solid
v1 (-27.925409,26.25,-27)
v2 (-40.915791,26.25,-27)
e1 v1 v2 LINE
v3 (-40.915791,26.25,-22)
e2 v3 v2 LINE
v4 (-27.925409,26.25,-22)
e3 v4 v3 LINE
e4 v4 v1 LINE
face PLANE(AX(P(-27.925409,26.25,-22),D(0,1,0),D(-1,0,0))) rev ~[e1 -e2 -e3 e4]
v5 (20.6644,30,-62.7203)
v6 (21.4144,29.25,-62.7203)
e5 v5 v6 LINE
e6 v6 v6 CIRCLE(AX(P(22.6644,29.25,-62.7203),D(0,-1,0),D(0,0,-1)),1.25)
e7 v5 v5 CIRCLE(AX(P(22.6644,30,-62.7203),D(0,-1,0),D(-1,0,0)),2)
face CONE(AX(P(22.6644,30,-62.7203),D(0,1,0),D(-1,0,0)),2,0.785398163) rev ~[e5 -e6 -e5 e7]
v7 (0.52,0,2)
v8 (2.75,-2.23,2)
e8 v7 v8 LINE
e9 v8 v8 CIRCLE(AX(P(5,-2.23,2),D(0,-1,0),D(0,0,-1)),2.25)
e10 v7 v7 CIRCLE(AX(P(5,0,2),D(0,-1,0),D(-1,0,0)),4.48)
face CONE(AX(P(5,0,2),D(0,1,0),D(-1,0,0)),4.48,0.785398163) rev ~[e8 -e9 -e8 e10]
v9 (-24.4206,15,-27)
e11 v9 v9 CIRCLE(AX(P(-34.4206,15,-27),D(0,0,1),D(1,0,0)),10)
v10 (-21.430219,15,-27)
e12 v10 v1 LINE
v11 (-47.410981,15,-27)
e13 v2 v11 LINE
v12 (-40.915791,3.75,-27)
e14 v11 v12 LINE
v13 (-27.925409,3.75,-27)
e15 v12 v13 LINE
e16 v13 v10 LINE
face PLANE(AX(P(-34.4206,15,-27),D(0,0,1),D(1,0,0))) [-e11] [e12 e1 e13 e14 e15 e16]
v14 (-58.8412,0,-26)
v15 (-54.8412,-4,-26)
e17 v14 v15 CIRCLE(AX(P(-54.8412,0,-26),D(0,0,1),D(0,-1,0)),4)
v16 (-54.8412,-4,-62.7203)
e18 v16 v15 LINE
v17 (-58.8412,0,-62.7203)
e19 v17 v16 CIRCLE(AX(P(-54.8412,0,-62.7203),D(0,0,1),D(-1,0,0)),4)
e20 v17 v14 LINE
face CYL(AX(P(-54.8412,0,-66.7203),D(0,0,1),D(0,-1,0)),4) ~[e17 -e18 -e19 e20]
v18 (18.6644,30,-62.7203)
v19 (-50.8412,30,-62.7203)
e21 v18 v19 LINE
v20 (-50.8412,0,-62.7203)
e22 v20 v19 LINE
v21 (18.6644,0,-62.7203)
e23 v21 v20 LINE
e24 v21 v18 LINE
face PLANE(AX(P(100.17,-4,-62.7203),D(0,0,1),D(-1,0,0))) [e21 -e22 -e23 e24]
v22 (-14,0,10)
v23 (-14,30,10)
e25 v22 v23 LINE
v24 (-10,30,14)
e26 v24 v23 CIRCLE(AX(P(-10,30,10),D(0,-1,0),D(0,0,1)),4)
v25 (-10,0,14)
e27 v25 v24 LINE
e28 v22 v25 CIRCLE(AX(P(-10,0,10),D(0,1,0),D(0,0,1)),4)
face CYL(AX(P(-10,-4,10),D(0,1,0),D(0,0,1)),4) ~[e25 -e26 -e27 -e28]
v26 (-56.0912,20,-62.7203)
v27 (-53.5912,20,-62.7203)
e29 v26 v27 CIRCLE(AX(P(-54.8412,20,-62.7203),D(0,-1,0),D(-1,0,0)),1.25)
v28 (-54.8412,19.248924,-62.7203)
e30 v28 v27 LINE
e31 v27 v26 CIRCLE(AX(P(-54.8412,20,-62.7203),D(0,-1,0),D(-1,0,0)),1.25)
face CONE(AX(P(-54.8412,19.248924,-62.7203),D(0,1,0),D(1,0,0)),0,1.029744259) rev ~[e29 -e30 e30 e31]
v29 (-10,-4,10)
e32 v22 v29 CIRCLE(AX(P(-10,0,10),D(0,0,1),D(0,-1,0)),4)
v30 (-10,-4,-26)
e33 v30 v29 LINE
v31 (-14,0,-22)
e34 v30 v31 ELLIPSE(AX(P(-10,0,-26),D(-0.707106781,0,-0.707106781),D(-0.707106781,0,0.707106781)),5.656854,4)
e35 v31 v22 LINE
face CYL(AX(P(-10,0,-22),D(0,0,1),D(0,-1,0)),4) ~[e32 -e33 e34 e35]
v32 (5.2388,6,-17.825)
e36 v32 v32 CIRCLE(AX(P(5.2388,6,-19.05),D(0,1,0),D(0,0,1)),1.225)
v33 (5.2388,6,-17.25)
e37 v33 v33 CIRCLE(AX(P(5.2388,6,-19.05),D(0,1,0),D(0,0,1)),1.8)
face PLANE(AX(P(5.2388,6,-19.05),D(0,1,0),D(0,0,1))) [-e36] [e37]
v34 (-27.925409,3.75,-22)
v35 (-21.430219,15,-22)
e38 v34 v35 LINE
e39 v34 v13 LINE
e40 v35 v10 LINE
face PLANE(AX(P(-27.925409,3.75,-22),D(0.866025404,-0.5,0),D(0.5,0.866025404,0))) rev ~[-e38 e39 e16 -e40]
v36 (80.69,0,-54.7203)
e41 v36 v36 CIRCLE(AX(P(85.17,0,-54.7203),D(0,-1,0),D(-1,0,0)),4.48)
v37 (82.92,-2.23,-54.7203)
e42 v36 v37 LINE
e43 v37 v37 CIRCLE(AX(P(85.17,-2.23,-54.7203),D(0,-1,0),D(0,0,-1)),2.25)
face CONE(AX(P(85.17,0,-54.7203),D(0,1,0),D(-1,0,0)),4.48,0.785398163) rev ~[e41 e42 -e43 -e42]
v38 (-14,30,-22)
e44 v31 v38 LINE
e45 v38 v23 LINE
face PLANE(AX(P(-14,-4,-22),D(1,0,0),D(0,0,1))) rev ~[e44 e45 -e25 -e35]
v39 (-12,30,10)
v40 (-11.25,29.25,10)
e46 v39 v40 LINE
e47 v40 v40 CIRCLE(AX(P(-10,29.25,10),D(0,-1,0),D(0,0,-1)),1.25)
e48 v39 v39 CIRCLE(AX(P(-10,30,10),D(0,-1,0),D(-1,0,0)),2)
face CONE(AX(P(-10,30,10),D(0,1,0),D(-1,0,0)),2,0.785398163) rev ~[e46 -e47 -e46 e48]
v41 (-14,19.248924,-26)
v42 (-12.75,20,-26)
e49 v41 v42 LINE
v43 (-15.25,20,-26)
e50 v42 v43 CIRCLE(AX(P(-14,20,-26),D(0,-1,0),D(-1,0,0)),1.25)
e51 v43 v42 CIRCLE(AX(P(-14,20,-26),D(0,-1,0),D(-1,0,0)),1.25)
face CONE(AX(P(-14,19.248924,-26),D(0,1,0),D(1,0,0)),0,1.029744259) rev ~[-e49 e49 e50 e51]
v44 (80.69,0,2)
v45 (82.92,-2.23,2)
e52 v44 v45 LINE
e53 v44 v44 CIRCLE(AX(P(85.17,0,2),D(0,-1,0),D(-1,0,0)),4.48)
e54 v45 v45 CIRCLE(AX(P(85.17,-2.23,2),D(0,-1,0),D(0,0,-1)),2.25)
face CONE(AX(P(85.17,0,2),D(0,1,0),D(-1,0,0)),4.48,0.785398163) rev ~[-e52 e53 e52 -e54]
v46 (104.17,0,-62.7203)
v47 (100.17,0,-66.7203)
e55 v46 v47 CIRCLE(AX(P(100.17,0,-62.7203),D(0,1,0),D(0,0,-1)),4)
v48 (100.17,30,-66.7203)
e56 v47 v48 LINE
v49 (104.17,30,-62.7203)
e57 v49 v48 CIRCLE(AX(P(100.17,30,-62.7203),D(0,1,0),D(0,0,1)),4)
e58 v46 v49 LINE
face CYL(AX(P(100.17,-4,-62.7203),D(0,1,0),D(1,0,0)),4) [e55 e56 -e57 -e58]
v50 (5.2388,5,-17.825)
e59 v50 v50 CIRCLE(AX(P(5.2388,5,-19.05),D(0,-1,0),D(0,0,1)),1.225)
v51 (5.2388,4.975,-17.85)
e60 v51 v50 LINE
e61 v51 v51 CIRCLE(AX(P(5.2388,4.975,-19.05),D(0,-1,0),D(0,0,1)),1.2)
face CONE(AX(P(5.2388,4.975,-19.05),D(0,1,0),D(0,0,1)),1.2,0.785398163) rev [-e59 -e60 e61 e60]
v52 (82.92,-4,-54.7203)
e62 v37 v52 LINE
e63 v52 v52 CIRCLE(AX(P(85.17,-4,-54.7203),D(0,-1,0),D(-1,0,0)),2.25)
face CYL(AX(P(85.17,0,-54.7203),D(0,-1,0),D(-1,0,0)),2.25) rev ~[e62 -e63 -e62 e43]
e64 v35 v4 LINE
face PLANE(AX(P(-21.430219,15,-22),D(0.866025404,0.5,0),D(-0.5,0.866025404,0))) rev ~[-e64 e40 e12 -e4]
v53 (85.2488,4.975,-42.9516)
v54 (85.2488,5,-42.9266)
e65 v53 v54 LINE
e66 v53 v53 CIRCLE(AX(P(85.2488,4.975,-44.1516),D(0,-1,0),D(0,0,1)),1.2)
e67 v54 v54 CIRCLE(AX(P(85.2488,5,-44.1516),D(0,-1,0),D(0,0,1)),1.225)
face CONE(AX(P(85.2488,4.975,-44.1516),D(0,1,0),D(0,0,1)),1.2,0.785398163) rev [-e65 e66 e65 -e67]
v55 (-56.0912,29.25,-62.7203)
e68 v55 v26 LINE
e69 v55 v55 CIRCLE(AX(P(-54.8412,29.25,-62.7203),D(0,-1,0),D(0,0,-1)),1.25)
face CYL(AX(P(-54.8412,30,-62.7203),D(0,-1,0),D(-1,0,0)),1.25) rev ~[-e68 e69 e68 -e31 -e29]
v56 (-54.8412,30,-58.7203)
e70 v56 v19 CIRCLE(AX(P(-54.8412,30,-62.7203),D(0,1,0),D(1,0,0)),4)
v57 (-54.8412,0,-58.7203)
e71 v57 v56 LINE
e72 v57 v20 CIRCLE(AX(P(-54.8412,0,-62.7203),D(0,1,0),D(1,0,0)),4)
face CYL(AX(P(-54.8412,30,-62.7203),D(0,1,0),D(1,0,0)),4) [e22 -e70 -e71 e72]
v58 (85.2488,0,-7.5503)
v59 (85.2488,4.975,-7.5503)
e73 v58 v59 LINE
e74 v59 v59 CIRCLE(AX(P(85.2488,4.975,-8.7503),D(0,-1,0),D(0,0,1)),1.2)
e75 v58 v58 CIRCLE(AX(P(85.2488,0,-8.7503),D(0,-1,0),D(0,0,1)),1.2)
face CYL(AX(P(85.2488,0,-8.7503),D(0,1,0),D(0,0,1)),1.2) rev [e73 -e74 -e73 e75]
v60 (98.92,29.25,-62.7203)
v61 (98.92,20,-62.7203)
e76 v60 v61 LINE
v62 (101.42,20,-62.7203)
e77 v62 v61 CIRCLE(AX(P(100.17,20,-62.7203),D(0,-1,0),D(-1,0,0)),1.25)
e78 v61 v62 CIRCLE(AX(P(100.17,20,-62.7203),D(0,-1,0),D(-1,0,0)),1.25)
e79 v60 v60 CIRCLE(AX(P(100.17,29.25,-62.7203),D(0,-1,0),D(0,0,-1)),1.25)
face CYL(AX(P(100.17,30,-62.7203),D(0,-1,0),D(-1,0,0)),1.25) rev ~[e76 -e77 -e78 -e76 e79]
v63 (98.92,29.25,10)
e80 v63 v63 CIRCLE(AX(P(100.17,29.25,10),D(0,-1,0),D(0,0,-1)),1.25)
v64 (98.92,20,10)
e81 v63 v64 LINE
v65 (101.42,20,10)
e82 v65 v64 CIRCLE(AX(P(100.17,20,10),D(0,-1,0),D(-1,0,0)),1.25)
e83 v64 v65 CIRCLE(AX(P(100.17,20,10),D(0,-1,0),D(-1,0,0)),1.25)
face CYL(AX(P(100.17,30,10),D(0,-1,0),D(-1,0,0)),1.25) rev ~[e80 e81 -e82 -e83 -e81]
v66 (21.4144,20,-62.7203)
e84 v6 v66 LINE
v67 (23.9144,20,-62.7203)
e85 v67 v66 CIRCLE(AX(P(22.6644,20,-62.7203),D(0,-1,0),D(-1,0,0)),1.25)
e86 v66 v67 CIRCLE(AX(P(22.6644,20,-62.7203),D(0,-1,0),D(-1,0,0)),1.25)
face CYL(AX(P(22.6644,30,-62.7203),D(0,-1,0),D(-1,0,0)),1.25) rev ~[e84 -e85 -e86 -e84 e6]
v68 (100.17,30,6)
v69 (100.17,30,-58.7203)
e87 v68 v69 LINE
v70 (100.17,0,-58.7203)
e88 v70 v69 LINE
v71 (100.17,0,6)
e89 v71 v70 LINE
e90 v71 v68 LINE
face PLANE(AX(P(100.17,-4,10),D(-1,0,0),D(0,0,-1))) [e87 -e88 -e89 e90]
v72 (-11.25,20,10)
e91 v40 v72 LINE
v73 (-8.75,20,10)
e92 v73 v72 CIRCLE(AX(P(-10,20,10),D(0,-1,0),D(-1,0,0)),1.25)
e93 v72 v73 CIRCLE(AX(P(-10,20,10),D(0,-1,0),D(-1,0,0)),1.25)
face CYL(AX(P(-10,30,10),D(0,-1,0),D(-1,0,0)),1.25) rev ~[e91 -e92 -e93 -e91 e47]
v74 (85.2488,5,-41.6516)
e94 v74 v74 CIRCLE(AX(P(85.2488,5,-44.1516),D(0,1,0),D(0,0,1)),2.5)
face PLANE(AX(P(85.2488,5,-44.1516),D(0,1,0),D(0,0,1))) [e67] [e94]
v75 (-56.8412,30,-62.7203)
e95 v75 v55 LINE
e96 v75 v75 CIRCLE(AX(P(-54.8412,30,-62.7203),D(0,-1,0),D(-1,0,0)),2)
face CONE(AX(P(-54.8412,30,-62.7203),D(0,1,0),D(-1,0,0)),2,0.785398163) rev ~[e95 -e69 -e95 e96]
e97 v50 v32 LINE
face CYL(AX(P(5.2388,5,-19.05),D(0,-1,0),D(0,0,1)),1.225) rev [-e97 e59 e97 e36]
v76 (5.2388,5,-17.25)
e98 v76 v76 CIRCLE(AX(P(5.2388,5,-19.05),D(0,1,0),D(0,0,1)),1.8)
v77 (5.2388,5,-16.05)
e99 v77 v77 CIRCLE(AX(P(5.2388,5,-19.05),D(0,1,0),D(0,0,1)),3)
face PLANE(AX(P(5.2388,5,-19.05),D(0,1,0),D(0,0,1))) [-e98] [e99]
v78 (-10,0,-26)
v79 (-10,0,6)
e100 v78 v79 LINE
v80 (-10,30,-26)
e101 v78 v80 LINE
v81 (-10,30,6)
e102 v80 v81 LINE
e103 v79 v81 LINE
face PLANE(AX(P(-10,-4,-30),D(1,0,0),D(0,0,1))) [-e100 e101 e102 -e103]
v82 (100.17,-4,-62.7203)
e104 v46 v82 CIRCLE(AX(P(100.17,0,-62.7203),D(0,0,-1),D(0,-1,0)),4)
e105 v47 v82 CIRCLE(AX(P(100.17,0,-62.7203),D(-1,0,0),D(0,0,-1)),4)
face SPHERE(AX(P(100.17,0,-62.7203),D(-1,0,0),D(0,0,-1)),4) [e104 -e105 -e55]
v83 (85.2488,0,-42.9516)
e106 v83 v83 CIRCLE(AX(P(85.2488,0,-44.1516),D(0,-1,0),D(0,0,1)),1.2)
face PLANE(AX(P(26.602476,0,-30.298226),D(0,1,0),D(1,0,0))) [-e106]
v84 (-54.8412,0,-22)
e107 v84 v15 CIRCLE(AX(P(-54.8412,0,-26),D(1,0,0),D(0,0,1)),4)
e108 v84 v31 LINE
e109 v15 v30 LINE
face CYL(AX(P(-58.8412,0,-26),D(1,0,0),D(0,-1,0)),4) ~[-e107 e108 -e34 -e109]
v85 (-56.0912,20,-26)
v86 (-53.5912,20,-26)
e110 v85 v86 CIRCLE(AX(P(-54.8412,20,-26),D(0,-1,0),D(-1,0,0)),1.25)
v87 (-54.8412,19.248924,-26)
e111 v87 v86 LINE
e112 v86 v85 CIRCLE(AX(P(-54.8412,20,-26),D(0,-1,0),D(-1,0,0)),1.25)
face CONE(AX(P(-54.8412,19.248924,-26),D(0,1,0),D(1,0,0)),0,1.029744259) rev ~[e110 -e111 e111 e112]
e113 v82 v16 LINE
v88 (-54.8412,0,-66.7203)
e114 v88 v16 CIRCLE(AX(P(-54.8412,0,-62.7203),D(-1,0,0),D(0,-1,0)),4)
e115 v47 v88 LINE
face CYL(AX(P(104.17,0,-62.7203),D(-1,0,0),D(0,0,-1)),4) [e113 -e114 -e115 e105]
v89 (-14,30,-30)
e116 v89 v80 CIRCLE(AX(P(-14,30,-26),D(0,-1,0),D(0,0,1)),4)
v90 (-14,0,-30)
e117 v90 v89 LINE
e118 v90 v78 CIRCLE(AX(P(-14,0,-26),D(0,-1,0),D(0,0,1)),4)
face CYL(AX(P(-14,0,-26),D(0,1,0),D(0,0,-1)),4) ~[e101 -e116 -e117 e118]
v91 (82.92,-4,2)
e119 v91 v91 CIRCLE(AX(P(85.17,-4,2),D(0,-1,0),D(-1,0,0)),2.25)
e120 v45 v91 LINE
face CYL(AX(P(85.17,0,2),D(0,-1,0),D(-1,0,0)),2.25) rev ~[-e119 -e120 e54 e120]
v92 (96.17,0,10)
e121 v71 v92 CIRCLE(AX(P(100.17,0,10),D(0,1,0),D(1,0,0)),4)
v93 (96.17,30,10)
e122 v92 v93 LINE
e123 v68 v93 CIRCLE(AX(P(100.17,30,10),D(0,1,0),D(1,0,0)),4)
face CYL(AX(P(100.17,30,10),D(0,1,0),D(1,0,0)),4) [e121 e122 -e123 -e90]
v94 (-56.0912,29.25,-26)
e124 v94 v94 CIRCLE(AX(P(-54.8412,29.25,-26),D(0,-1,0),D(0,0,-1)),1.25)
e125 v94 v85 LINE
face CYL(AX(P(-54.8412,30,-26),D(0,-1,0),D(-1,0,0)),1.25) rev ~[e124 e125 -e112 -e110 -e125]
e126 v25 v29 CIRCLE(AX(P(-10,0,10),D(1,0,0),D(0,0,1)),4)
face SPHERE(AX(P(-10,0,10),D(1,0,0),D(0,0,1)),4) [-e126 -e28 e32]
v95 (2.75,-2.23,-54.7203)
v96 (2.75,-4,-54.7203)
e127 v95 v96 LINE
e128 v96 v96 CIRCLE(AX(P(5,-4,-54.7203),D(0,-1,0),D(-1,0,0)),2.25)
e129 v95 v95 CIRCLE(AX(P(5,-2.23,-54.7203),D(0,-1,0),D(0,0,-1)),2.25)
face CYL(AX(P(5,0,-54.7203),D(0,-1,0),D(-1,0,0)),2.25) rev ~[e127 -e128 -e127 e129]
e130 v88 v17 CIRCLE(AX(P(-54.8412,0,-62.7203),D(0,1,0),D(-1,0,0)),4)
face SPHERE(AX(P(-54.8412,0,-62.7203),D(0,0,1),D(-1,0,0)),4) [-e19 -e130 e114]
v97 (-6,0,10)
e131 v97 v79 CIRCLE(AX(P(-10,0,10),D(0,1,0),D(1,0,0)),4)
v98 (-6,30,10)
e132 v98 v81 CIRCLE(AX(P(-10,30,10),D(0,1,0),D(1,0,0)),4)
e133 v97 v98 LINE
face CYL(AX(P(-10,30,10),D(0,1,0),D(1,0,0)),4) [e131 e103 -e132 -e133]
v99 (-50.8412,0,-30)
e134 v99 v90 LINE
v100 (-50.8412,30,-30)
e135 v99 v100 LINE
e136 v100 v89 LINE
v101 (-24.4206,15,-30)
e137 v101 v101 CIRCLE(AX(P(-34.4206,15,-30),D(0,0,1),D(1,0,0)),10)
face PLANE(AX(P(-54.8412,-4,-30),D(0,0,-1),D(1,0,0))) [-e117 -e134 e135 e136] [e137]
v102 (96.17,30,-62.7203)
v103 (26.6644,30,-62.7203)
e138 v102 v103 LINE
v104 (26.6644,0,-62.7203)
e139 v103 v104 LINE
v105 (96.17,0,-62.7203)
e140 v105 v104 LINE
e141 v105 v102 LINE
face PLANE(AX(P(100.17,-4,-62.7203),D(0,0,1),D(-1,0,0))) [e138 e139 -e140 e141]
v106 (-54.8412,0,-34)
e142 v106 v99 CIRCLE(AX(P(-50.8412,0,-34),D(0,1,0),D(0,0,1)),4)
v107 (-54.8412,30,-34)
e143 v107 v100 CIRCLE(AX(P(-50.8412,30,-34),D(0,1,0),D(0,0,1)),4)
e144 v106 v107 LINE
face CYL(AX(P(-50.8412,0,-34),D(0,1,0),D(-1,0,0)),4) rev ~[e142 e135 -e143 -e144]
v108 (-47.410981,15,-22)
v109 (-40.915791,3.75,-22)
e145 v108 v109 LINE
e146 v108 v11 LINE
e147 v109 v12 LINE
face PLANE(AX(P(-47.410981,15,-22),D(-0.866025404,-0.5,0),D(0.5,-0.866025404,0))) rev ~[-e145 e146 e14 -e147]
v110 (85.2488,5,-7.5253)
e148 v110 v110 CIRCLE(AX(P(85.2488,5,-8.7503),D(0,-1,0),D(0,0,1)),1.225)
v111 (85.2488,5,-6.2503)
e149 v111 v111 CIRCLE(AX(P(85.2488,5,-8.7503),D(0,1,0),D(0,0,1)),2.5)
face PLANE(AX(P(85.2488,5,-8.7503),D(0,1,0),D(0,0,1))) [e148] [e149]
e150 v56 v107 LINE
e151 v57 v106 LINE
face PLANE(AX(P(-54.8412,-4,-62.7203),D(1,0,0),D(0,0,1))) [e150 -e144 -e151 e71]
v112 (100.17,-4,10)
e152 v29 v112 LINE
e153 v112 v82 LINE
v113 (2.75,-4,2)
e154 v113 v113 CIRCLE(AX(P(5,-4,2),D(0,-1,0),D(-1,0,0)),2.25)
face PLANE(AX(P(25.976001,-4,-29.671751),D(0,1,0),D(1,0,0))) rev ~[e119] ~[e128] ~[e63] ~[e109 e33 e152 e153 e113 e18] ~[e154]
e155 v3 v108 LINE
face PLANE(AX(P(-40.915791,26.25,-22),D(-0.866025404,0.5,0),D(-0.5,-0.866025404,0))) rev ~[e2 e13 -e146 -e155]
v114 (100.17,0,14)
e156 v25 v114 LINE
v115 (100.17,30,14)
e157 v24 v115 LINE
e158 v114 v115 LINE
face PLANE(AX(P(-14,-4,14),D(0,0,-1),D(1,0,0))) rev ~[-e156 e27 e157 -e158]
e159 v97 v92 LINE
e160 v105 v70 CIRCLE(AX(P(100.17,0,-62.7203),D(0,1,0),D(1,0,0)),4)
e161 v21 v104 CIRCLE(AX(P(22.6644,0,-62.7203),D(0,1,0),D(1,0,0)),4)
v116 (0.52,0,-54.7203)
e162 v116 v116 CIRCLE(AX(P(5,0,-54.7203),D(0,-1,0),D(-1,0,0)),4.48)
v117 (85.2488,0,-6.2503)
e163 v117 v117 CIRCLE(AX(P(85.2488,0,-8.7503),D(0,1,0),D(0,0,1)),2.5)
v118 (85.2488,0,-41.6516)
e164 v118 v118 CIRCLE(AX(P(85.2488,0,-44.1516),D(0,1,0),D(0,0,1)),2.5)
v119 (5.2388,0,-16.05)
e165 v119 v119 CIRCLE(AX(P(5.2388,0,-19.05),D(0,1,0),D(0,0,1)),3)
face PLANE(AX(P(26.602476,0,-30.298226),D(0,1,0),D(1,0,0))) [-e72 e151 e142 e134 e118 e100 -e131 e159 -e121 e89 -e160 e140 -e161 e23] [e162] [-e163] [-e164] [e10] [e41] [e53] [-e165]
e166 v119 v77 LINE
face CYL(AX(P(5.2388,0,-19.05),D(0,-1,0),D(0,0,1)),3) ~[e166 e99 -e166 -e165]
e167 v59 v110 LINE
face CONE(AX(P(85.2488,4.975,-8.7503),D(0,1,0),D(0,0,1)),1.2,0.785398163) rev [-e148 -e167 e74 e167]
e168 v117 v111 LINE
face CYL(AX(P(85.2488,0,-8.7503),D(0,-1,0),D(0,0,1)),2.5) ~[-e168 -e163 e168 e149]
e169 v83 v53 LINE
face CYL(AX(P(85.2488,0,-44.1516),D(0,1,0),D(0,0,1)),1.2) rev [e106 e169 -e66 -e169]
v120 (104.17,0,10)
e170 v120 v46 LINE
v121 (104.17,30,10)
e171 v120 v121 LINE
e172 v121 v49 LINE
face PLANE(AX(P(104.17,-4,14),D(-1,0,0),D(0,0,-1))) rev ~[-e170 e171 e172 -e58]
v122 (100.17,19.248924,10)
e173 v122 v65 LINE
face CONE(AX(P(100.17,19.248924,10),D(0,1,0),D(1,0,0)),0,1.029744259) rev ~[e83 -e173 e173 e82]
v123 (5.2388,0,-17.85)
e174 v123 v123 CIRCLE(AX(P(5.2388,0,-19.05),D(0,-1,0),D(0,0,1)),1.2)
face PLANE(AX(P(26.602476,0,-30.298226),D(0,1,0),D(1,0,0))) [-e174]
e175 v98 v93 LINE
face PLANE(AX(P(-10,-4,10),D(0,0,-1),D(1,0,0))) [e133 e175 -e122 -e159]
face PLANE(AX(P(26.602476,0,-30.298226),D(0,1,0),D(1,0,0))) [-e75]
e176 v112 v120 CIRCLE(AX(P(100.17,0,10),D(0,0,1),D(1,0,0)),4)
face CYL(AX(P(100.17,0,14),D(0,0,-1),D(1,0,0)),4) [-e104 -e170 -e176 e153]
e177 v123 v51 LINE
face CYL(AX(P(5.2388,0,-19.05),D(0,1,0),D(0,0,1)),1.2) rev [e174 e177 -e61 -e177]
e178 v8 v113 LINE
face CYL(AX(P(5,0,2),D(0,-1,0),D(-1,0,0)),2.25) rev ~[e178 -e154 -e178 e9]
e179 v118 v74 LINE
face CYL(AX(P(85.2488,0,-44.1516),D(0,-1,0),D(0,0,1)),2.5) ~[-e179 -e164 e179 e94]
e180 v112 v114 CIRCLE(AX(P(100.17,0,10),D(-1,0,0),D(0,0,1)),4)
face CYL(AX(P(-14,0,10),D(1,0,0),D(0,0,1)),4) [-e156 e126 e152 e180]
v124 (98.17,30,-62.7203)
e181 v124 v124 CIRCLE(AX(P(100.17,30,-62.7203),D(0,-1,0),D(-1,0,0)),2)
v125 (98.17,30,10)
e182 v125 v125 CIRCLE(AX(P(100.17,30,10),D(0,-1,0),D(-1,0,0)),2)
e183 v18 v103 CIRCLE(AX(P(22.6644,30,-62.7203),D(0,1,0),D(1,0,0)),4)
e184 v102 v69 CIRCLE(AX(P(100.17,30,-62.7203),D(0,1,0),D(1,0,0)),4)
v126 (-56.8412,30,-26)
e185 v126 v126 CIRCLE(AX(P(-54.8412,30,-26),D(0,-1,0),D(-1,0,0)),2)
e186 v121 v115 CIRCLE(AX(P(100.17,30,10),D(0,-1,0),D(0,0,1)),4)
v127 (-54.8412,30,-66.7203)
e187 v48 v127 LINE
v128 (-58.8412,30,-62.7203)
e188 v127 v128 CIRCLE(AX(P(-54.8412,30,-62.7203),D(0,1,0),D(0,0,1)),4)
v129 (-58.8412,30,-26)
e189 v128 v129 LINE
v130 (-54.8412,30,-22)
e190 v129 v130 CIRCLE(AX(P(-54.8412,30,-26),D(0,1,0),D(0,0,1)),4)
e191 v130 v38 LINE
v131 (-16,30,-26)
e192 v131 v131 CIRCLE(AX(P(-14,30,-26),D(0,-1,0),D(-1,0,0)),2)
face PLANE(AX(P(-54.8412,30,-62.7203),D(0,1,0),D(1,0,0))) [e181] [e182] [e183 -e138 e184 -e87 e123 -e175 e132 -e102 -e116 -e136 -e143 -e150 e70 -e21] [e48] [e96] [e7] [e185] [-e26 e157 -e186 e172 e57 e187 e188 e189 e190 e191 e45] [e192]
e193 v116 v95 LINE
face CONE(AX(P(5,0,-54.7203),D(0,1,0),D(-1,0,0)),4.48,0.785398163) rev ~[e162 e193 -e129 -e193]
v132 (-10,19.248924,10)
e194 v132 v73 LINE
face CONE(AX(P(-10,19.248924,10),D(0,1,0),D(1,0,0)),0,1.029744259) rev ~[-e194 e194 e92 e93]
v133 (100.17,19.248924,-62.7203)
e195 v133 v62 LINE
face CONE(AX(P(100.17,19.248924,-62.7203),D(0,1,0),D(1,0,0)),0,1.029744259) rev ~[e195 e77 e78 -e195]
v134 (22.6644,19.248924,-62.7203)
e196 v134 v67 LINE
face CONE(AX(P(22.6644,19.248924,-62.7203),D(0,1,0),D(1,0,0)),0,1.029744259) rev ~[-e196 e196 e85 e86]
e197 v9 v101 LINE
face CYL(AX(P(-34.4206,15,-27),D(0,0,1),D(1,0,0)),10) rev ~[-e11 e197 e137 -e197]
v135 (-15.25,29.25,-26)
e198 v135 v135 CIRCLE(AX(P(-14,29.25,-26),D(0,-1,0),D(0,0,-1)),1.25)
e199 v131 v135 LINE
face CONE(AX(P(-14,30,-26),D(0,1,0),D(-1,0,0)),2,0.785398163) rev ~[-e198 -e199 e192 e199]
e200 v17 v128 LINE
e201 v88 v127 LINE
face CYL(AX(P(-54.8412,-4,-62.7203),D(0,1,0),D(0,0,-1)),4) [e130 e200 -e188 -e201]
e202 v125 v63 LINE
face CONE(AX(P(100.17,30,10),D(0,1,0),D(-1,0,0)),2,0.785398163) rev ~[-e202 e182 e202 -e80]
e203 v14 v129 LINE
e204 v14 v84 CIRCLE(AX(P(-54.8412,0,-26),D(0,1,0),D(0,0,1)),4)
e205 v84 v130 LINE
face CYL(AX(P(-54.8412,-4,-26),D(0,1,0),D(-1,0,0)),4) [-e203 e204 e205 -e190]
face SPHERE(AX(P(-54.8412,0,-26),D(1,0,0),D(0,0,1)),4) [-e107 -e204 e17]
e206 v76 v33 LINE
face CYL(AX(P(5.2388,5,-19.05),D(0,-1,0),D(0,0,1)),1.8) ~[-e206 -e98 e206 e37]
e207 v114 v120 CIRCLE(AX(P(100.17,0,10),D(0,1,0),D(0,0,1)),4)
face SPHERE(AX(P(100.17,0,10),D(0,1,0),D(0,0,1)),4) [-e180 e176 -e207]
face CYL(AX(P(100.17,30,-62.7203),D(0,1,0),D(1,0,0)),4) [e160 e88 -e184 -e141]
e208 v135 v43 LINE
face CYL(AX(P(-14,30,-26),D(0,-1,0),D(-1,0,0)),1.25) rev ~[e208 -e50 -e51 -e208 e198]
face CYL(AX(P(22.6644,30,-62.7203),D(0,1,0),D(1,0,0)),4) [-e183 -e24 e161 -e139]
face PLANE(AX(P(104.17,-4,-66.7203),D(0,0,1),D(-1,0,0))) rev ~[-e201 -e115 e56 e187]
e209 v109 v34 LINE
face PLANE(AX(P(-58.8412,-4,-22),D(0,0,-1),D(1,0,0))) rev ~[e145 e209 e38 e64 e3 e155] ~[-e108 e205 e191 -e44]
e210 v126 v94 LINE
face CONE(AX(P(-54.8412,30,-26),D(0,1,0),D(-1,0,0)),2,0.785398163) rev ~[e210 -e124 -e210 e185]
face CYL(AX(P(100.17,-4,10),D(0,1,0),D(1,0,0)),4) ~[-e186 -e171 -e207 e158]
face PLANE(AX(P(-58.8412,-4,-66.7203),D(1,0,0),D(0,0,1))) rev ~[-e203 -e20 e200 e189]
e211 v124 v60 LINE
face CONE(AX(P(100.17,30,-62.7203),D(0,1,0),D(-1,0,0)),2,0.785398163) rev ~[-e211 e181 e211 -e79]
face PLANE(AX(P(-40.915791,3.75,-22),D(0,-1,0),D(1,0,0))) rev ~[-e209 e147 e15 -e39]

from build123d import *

# Parameters (mm, degrees)
CROQUIS3_R                                           = 3
SALIENTE_EXTRUIR1_DEPTH                              = 5
CROQUIS3_R_2                                         = 2.5
SALIENTE_EXTRUIR1_2_DEPTH                            = 5
SALIENTE_EXTRUIR1_3_DEPTH                            = 5
TALADRO_DE_MARGEN_PARA_M21_AT_2_COUNT                = 2
TALADRO_DE_MARGEN_PARA_M21_AT_2_PITCH                = 83.855175288
TALADRO_DE_MARGEN_PARA_M21_AT_3_COUNT                = 2
TALADRO_DE_MARGEN_PARA_M21_AT_3_PITCH                = 80.670217057
CROQUIS9_R                                           = 1.8
CROQUIS9_R_2                                         = 1.225
SALIENTE_EXTRUIR3_DEPTH                              = 1
SALIENTE_EXTRUIR4_DEPTH                              = 4
SALIENTE_EXTRUIR5_DEPTH                              = 30
SALIENTE_EXTRUIR5_DEPTH_BACK                         = 4
CORTAR_EXTRUIR2_DEPTH                                = 5
CROQUIS13_R                                          = 10
CORTAR_EXTRUIR3_DEPTH                                = 5
REDONDEO1_R                                          = 4
SALIENTE_EXTRUIR9_START                              = 30
CROQUIS15_R                                          = 4
SALIENTE_EXTRUIR9_DEPTH                              = 30
REFRENTADO_PARA_TORNILLO_TAP_N_CON_CABEZ_D           = 2.5
REFRENTADO_PARA_TORNILLO_TAP_N_CON_CABEZ_DEPTH       = 10
REFRENTADO_PARA_TORNILLO_TAP_N_CON_CABEZ_CSINK_D     = 4
REFRENTADO_PARA_TORNILLO_TAP_N_CON_CABEZ_CSINK_ANGLE = 90
REFRENTADO_PARA_TORNILLO_TAP_N_CON_CABEZ_TIP         = 0.751075774
REFRENTADO_PARA_TORNILLO_TAP_N_CON_C_2_D             = 4.5
REFRENTADO_PARA_TORNILLO_TAP_N_CON_C_2_DEPTH         = 10
REFRENTADO_PARA_TORNILLO_TAP_N_CON_C_2_CSINK_D       = 8.96
REFRENTADO_PARA_TORNILLO_TAP_N_CON_C_2_CSINK_ANGLE   = 90
REFRENTADO_PARA_TORNILLO_TAP_N_CON_C_2_TIP           = 1.351936393


with BuildPart() as part:
    # Croquis3 → Saliente-Extruir1 (new body)
    with BuildSketch(Plane(origin=(0, 0, 0), x_dir=(1, 0, 0), z_dir=(0, 1, 0))):
        with Locations(Location((5.2388, 19.05, 0), (0, 0, 270))):
            Circle(CROQUIS3_R)
    extrude(amount=SALIENTE_EXTRUIR1_DEPTH)

    # Croquis8 → Taladro de margen para M21 (revolve, cut)
    with BuildSketch(Plane(origin=(5.2388, 5, -19.05), x_dir=(0, 0, 1), z_dir=(1, 0, 0))):
        Polygon((0, 0), (0, 5), (1.2, 5), (1.2, 0.025), (1.225, 0), align=None)
    taladro_de_margen_para_m21 = revolve(axis=Axis((5.2388, 11.35, -19.05), (0, -1, 0)), mode=Mode.SUBTRACT)

    # Croquis9 → Saliente-Extruir3 (add)
    with BuildSketch(Plane(origin=(0, 5, 0), x_dir=(1, 0, 0), z_dir=(0, 1, 0))):
        with Locations(Location((5.2388, 19.05, 0), (0, 0, 270))):
            Circle(CROQUIS9_R)
        with Locations(Location((5.2388, 19.05, 0), (0, 0, 270))):
            Circle(CROQUIS9_R_2, mode=Mode.SUBTRACT)
    extrude(amount=SALIENTE_EXTRUIR3_DEPTH)



with BuildPart() as body_2:
    # Croquis3 → Saliente-Extruir1 2 (new body)
    with BuildSketch(Plane(origin=(0, 0, 0), x_dir=(1, 0, 0), z_dir=(0, 1, 0))):
        with Locations(Location((85.2488, 44.1516, 0), (0, 0, 270))):
            Circle(CROQUIS3_R_2)
    extrude(amount=SALIENTE_EXTRUIR1_2_DEPTH)

    # Taladro de margen para M21 at 2: Taladro de margen para M21 ×2
    with Locations(*[Vector(0.9541450450175183, 0, -0.2993446726910604) * (i * TALADRO_DE_MARGEN_PARA_M21_AT_2_PITCH) for i in range(1, TALADRO_DE_MARGEN_PARA_M21_AT_2_COUNT)]):
        add(taladro_de_margen_para_m21, mode=Mode.SUBTRACT)


with BuildPart() as body_3:
    # Croquis3 → Saliente-Extruir1 3 (new body)
    with BuildSketch(Plane(origin=(0, 0, 0), x_dir=(1, 0, 0), z_dir=(0, 1, 0))):
        with Locations(Location((85.2488, 8.7503, 0), (0, 0, 270))):
            Circle(CROQUIS3_R_2)
    extrude(amount=SALIENTE_EXTRUIR1_3_DEPTH)

    # Taladro de margen para M21 at 3: Taladro de margen para M21 ×2
    with Locations(*[Vector(0.9918158512336425, 0, 0.12767661196039432) * (i * TALADRO_DE_MARGEN_PARA_M21_AT_3_PITCH) for i in range(1, TALADRO_DE_MARGEN_PARA_M21_AT_3_COUNT)]):
        add(taladro_de_margen_para_m21, mode=Mode.SUBTRACT)


with BuildPart() as part_1:
    add(part.part)

    add(body_2.part)  # Saliente-Extruir4 merges body 2

    add(body_3.part)  # Saliente-Extruir4 merges body 3
    # Croquis10 → Saliente-Extruir4 (add)
    with BuildSketch(Plane(origin=(0, 0, 0), x_dir=(1, 0, 0), z_dir=(0, 1, 0))):
        Polygon((-10, -10), (100.17, -10), (100.17, 62.7203), (-54.8412, 62.7203), (-54.8412, 30), (-10, 30), align=None)
    extrude(amount=-SALIENTE_EXTRUIR4_DEPTH)

    # Croquis11 → Saliente-Extruir5 (add, two sides: drawn at the far end of the back side and taken through both)
    with BuildSketch(Plane(origin=(0, 0, 0), x_dir=(1, 0, 0), z_dir=(0, 1, 0)).offset(-SALIENTE_EXTRUIR5_DEPTH_BACK)):
        Polygon((104.17, -14), (104.17, 66.7203), (-58.8412, 66.7203), (-58.8412, 26), (-58.8412, 22), (-14, 22), (-14, -14), align=None)
        Polygon((100.17, -10), (100.17, 62.7203), (-54.8412, 62.7203), (-54.8412, 30), (-10, 30), (-10, -10), align=None, mode=Mode.SUBTRACT)
    extrude(amount=SALIENTE_EXTRUIR5_DEPTH + SALIENTE_EXTRUIR5_DEPTH_BACK)

    # Croquis12 → Cortar-Extruir2 (cut)
    with BuildSketch(Plane.XY.offset(-22)):
        Polygon((-21.430218943, 15), (-27.925409472, 26.25), (-40.915790528, 26.25), (-47.410981057, 15), (-40.915790528, 3.75), (-27.925409472, 3.75), align=None)
    extrude(amount=-CORTAR_EXTRUIR2_DEPTH, mode=Mode.SUBTRACT)

    # Croquis13 → Cortar-Extruir3 (cut)
    with BuildSketch(Plane.XY.offset(-27)):
        with Locations((-34.4206, 15)):
            Circle(CROQUIS13_R)
    extrude(amount=-CORTAR_EXTRUIR3_DEPTH, mode=Mode.SUBTRACT)

    # Redondeo1
    redondeo1_edges = [part_1.edges().sort_by_distance(p)[0] for p in [
        (-54.8412, 15, -62.7203),
        (-54.8412, 15, -30),
        (-10, 15, -30),
        (100.17, 15, 10),
        (-10, 15, 10),
        (100.17, 15, -62.7203),
        (104.17, 13, 14),
        (45.085, -4, 14),
        (-14, 13, 14),
        (-14, -4, -4),
        (-36.4206, -4, -22),
        (-58.8412, 13, -22),
        (-58.8412, -4, -44.36015),
        (-58.8412, 13, -66.7203),
        (22.6644, -4, -66.7203),
        (104.17, 13, -66.7203),
        (104.17, -4, -26.36015),
    ]]
    fillet(redondeo1_edges, radius=REDONDEO1_R)

    # Croquis15 → Saliente-Extruir9 (add)
    with BuildSketch(Plane(origin=(0, 0, 0), x_dir=(1, 0, 0), z_dir=(0, 1, 0)).offset(SALIENTE_EXTRUIR9_START)):
        with Locations((-54.8412, 62.7203)):
            Circle(CROQUIS15_R)
        with Locations((100.17, 62.7203)):
            Circle(CROQUIS15_R)
        with Locations((100.17, -10)):
            Circle(CROQUIS15_R)
        with Locations((-10, -10)):
            Circle(CROQUIS15_R)
        with Locations((-14, 26)):
            Circle(CROQUIS15_R)
        with Locations((-54.8412, 26)):
            Circle(CROQUIS15_R)
        with Locations((22.6644, 62.7203)):
            Circle(CROQUIS15_R)
    extrude(amount=-SALIENTE_EXTRUIR9_DEPTH)

    # Refrentado para tornillo tap_n con cabez
    with Locations(Plane(origin=(0, 30, 0), x_dir=(1, 0, 0), z_dir=(0, 1, 0))):
        with Locations((-54.8412, 62.7203), (-54.8412, 26), (-14, 26), (-10, -10), (100.17, -10), (100.17, 62.7203), (22.6644, 62.7203)):
            CounterSinkHole(REFRENTADO_PARA_TORNILLO_TAP_N_CON_CABEZ_D / 2, REFRENTADO_PARA_TORNILLO_TAP_N_CON_CABEZ_CSINK_D / 2, depth=REFRENTADO_PARA_TORNILLO_TAP_N_CON_CABEZ_DEPTH, counter_sink_angle=REFRENTADO_PARA_TORNILLO_TAP_N_CON_CABEZ_CSINK_ANGLE)
            with Locations((0, 0, -(REFRENTADO_PARA_TORNILLO_TAP_N_CON_CABEZ_DEPTH + REFRENTADO_PARA_TORNILLO_TAP_N_CON_CABEZ_TIP / 2))):  # 118° drill point
                Cone(0, REFRENTADO_PARA_TORNILLO_TAP_N_CON_CABEZ_D / 2, REFRENTADO_PARA_TORNILLO_TAP_N_CON_CABEZ_TIP, mode=Mode.SUBTRACT)

    # Refrentado para tornillo tap_n con c 2
    with Locations(Plane(origin=(0, 0, 0), x_dir=(1, 0, 0), z_dir=(0, 1, 0))):
        with Locations((5, 54.7203), (85.17, 54.7203), (85.17, -2), (5, -2)):
            CounterSinkHole(REFRENTADO_PARA_TORNILLO_TAP_N_CON_C_2_D / 2, REFRENTADO_PARA_TORNILLO_TAP_N_CON_C_2_CSINK_D / 2, depth=REFRENTADO_PARA_TORNILLO_TAP_N_CON_C_2_DEPTH, counter_sink_angle=REFRENTADO_PARA_TORNILLO_TAP_N_CON_C_2_CSINK_ANGLE)
            with Locations((0, 0, -(REFRENTADO_PARA_TORNILLO_TAP_N_CON_C_2_DEPTH + REFRENTADO_PARA_TORNILLO_TAP_N_CON_C_2_TIP / 2))):  # 118° drill point
                Cone(0, REFRENTADO_PARA_TORNILLO_TAP_N_CON_C_2_D / 2, REFRENTADO_PARA_TORNILLO_TAP_N_CON_C_2_TIP, mode=Mode.SUBTRACT)


solid = part_1.part
